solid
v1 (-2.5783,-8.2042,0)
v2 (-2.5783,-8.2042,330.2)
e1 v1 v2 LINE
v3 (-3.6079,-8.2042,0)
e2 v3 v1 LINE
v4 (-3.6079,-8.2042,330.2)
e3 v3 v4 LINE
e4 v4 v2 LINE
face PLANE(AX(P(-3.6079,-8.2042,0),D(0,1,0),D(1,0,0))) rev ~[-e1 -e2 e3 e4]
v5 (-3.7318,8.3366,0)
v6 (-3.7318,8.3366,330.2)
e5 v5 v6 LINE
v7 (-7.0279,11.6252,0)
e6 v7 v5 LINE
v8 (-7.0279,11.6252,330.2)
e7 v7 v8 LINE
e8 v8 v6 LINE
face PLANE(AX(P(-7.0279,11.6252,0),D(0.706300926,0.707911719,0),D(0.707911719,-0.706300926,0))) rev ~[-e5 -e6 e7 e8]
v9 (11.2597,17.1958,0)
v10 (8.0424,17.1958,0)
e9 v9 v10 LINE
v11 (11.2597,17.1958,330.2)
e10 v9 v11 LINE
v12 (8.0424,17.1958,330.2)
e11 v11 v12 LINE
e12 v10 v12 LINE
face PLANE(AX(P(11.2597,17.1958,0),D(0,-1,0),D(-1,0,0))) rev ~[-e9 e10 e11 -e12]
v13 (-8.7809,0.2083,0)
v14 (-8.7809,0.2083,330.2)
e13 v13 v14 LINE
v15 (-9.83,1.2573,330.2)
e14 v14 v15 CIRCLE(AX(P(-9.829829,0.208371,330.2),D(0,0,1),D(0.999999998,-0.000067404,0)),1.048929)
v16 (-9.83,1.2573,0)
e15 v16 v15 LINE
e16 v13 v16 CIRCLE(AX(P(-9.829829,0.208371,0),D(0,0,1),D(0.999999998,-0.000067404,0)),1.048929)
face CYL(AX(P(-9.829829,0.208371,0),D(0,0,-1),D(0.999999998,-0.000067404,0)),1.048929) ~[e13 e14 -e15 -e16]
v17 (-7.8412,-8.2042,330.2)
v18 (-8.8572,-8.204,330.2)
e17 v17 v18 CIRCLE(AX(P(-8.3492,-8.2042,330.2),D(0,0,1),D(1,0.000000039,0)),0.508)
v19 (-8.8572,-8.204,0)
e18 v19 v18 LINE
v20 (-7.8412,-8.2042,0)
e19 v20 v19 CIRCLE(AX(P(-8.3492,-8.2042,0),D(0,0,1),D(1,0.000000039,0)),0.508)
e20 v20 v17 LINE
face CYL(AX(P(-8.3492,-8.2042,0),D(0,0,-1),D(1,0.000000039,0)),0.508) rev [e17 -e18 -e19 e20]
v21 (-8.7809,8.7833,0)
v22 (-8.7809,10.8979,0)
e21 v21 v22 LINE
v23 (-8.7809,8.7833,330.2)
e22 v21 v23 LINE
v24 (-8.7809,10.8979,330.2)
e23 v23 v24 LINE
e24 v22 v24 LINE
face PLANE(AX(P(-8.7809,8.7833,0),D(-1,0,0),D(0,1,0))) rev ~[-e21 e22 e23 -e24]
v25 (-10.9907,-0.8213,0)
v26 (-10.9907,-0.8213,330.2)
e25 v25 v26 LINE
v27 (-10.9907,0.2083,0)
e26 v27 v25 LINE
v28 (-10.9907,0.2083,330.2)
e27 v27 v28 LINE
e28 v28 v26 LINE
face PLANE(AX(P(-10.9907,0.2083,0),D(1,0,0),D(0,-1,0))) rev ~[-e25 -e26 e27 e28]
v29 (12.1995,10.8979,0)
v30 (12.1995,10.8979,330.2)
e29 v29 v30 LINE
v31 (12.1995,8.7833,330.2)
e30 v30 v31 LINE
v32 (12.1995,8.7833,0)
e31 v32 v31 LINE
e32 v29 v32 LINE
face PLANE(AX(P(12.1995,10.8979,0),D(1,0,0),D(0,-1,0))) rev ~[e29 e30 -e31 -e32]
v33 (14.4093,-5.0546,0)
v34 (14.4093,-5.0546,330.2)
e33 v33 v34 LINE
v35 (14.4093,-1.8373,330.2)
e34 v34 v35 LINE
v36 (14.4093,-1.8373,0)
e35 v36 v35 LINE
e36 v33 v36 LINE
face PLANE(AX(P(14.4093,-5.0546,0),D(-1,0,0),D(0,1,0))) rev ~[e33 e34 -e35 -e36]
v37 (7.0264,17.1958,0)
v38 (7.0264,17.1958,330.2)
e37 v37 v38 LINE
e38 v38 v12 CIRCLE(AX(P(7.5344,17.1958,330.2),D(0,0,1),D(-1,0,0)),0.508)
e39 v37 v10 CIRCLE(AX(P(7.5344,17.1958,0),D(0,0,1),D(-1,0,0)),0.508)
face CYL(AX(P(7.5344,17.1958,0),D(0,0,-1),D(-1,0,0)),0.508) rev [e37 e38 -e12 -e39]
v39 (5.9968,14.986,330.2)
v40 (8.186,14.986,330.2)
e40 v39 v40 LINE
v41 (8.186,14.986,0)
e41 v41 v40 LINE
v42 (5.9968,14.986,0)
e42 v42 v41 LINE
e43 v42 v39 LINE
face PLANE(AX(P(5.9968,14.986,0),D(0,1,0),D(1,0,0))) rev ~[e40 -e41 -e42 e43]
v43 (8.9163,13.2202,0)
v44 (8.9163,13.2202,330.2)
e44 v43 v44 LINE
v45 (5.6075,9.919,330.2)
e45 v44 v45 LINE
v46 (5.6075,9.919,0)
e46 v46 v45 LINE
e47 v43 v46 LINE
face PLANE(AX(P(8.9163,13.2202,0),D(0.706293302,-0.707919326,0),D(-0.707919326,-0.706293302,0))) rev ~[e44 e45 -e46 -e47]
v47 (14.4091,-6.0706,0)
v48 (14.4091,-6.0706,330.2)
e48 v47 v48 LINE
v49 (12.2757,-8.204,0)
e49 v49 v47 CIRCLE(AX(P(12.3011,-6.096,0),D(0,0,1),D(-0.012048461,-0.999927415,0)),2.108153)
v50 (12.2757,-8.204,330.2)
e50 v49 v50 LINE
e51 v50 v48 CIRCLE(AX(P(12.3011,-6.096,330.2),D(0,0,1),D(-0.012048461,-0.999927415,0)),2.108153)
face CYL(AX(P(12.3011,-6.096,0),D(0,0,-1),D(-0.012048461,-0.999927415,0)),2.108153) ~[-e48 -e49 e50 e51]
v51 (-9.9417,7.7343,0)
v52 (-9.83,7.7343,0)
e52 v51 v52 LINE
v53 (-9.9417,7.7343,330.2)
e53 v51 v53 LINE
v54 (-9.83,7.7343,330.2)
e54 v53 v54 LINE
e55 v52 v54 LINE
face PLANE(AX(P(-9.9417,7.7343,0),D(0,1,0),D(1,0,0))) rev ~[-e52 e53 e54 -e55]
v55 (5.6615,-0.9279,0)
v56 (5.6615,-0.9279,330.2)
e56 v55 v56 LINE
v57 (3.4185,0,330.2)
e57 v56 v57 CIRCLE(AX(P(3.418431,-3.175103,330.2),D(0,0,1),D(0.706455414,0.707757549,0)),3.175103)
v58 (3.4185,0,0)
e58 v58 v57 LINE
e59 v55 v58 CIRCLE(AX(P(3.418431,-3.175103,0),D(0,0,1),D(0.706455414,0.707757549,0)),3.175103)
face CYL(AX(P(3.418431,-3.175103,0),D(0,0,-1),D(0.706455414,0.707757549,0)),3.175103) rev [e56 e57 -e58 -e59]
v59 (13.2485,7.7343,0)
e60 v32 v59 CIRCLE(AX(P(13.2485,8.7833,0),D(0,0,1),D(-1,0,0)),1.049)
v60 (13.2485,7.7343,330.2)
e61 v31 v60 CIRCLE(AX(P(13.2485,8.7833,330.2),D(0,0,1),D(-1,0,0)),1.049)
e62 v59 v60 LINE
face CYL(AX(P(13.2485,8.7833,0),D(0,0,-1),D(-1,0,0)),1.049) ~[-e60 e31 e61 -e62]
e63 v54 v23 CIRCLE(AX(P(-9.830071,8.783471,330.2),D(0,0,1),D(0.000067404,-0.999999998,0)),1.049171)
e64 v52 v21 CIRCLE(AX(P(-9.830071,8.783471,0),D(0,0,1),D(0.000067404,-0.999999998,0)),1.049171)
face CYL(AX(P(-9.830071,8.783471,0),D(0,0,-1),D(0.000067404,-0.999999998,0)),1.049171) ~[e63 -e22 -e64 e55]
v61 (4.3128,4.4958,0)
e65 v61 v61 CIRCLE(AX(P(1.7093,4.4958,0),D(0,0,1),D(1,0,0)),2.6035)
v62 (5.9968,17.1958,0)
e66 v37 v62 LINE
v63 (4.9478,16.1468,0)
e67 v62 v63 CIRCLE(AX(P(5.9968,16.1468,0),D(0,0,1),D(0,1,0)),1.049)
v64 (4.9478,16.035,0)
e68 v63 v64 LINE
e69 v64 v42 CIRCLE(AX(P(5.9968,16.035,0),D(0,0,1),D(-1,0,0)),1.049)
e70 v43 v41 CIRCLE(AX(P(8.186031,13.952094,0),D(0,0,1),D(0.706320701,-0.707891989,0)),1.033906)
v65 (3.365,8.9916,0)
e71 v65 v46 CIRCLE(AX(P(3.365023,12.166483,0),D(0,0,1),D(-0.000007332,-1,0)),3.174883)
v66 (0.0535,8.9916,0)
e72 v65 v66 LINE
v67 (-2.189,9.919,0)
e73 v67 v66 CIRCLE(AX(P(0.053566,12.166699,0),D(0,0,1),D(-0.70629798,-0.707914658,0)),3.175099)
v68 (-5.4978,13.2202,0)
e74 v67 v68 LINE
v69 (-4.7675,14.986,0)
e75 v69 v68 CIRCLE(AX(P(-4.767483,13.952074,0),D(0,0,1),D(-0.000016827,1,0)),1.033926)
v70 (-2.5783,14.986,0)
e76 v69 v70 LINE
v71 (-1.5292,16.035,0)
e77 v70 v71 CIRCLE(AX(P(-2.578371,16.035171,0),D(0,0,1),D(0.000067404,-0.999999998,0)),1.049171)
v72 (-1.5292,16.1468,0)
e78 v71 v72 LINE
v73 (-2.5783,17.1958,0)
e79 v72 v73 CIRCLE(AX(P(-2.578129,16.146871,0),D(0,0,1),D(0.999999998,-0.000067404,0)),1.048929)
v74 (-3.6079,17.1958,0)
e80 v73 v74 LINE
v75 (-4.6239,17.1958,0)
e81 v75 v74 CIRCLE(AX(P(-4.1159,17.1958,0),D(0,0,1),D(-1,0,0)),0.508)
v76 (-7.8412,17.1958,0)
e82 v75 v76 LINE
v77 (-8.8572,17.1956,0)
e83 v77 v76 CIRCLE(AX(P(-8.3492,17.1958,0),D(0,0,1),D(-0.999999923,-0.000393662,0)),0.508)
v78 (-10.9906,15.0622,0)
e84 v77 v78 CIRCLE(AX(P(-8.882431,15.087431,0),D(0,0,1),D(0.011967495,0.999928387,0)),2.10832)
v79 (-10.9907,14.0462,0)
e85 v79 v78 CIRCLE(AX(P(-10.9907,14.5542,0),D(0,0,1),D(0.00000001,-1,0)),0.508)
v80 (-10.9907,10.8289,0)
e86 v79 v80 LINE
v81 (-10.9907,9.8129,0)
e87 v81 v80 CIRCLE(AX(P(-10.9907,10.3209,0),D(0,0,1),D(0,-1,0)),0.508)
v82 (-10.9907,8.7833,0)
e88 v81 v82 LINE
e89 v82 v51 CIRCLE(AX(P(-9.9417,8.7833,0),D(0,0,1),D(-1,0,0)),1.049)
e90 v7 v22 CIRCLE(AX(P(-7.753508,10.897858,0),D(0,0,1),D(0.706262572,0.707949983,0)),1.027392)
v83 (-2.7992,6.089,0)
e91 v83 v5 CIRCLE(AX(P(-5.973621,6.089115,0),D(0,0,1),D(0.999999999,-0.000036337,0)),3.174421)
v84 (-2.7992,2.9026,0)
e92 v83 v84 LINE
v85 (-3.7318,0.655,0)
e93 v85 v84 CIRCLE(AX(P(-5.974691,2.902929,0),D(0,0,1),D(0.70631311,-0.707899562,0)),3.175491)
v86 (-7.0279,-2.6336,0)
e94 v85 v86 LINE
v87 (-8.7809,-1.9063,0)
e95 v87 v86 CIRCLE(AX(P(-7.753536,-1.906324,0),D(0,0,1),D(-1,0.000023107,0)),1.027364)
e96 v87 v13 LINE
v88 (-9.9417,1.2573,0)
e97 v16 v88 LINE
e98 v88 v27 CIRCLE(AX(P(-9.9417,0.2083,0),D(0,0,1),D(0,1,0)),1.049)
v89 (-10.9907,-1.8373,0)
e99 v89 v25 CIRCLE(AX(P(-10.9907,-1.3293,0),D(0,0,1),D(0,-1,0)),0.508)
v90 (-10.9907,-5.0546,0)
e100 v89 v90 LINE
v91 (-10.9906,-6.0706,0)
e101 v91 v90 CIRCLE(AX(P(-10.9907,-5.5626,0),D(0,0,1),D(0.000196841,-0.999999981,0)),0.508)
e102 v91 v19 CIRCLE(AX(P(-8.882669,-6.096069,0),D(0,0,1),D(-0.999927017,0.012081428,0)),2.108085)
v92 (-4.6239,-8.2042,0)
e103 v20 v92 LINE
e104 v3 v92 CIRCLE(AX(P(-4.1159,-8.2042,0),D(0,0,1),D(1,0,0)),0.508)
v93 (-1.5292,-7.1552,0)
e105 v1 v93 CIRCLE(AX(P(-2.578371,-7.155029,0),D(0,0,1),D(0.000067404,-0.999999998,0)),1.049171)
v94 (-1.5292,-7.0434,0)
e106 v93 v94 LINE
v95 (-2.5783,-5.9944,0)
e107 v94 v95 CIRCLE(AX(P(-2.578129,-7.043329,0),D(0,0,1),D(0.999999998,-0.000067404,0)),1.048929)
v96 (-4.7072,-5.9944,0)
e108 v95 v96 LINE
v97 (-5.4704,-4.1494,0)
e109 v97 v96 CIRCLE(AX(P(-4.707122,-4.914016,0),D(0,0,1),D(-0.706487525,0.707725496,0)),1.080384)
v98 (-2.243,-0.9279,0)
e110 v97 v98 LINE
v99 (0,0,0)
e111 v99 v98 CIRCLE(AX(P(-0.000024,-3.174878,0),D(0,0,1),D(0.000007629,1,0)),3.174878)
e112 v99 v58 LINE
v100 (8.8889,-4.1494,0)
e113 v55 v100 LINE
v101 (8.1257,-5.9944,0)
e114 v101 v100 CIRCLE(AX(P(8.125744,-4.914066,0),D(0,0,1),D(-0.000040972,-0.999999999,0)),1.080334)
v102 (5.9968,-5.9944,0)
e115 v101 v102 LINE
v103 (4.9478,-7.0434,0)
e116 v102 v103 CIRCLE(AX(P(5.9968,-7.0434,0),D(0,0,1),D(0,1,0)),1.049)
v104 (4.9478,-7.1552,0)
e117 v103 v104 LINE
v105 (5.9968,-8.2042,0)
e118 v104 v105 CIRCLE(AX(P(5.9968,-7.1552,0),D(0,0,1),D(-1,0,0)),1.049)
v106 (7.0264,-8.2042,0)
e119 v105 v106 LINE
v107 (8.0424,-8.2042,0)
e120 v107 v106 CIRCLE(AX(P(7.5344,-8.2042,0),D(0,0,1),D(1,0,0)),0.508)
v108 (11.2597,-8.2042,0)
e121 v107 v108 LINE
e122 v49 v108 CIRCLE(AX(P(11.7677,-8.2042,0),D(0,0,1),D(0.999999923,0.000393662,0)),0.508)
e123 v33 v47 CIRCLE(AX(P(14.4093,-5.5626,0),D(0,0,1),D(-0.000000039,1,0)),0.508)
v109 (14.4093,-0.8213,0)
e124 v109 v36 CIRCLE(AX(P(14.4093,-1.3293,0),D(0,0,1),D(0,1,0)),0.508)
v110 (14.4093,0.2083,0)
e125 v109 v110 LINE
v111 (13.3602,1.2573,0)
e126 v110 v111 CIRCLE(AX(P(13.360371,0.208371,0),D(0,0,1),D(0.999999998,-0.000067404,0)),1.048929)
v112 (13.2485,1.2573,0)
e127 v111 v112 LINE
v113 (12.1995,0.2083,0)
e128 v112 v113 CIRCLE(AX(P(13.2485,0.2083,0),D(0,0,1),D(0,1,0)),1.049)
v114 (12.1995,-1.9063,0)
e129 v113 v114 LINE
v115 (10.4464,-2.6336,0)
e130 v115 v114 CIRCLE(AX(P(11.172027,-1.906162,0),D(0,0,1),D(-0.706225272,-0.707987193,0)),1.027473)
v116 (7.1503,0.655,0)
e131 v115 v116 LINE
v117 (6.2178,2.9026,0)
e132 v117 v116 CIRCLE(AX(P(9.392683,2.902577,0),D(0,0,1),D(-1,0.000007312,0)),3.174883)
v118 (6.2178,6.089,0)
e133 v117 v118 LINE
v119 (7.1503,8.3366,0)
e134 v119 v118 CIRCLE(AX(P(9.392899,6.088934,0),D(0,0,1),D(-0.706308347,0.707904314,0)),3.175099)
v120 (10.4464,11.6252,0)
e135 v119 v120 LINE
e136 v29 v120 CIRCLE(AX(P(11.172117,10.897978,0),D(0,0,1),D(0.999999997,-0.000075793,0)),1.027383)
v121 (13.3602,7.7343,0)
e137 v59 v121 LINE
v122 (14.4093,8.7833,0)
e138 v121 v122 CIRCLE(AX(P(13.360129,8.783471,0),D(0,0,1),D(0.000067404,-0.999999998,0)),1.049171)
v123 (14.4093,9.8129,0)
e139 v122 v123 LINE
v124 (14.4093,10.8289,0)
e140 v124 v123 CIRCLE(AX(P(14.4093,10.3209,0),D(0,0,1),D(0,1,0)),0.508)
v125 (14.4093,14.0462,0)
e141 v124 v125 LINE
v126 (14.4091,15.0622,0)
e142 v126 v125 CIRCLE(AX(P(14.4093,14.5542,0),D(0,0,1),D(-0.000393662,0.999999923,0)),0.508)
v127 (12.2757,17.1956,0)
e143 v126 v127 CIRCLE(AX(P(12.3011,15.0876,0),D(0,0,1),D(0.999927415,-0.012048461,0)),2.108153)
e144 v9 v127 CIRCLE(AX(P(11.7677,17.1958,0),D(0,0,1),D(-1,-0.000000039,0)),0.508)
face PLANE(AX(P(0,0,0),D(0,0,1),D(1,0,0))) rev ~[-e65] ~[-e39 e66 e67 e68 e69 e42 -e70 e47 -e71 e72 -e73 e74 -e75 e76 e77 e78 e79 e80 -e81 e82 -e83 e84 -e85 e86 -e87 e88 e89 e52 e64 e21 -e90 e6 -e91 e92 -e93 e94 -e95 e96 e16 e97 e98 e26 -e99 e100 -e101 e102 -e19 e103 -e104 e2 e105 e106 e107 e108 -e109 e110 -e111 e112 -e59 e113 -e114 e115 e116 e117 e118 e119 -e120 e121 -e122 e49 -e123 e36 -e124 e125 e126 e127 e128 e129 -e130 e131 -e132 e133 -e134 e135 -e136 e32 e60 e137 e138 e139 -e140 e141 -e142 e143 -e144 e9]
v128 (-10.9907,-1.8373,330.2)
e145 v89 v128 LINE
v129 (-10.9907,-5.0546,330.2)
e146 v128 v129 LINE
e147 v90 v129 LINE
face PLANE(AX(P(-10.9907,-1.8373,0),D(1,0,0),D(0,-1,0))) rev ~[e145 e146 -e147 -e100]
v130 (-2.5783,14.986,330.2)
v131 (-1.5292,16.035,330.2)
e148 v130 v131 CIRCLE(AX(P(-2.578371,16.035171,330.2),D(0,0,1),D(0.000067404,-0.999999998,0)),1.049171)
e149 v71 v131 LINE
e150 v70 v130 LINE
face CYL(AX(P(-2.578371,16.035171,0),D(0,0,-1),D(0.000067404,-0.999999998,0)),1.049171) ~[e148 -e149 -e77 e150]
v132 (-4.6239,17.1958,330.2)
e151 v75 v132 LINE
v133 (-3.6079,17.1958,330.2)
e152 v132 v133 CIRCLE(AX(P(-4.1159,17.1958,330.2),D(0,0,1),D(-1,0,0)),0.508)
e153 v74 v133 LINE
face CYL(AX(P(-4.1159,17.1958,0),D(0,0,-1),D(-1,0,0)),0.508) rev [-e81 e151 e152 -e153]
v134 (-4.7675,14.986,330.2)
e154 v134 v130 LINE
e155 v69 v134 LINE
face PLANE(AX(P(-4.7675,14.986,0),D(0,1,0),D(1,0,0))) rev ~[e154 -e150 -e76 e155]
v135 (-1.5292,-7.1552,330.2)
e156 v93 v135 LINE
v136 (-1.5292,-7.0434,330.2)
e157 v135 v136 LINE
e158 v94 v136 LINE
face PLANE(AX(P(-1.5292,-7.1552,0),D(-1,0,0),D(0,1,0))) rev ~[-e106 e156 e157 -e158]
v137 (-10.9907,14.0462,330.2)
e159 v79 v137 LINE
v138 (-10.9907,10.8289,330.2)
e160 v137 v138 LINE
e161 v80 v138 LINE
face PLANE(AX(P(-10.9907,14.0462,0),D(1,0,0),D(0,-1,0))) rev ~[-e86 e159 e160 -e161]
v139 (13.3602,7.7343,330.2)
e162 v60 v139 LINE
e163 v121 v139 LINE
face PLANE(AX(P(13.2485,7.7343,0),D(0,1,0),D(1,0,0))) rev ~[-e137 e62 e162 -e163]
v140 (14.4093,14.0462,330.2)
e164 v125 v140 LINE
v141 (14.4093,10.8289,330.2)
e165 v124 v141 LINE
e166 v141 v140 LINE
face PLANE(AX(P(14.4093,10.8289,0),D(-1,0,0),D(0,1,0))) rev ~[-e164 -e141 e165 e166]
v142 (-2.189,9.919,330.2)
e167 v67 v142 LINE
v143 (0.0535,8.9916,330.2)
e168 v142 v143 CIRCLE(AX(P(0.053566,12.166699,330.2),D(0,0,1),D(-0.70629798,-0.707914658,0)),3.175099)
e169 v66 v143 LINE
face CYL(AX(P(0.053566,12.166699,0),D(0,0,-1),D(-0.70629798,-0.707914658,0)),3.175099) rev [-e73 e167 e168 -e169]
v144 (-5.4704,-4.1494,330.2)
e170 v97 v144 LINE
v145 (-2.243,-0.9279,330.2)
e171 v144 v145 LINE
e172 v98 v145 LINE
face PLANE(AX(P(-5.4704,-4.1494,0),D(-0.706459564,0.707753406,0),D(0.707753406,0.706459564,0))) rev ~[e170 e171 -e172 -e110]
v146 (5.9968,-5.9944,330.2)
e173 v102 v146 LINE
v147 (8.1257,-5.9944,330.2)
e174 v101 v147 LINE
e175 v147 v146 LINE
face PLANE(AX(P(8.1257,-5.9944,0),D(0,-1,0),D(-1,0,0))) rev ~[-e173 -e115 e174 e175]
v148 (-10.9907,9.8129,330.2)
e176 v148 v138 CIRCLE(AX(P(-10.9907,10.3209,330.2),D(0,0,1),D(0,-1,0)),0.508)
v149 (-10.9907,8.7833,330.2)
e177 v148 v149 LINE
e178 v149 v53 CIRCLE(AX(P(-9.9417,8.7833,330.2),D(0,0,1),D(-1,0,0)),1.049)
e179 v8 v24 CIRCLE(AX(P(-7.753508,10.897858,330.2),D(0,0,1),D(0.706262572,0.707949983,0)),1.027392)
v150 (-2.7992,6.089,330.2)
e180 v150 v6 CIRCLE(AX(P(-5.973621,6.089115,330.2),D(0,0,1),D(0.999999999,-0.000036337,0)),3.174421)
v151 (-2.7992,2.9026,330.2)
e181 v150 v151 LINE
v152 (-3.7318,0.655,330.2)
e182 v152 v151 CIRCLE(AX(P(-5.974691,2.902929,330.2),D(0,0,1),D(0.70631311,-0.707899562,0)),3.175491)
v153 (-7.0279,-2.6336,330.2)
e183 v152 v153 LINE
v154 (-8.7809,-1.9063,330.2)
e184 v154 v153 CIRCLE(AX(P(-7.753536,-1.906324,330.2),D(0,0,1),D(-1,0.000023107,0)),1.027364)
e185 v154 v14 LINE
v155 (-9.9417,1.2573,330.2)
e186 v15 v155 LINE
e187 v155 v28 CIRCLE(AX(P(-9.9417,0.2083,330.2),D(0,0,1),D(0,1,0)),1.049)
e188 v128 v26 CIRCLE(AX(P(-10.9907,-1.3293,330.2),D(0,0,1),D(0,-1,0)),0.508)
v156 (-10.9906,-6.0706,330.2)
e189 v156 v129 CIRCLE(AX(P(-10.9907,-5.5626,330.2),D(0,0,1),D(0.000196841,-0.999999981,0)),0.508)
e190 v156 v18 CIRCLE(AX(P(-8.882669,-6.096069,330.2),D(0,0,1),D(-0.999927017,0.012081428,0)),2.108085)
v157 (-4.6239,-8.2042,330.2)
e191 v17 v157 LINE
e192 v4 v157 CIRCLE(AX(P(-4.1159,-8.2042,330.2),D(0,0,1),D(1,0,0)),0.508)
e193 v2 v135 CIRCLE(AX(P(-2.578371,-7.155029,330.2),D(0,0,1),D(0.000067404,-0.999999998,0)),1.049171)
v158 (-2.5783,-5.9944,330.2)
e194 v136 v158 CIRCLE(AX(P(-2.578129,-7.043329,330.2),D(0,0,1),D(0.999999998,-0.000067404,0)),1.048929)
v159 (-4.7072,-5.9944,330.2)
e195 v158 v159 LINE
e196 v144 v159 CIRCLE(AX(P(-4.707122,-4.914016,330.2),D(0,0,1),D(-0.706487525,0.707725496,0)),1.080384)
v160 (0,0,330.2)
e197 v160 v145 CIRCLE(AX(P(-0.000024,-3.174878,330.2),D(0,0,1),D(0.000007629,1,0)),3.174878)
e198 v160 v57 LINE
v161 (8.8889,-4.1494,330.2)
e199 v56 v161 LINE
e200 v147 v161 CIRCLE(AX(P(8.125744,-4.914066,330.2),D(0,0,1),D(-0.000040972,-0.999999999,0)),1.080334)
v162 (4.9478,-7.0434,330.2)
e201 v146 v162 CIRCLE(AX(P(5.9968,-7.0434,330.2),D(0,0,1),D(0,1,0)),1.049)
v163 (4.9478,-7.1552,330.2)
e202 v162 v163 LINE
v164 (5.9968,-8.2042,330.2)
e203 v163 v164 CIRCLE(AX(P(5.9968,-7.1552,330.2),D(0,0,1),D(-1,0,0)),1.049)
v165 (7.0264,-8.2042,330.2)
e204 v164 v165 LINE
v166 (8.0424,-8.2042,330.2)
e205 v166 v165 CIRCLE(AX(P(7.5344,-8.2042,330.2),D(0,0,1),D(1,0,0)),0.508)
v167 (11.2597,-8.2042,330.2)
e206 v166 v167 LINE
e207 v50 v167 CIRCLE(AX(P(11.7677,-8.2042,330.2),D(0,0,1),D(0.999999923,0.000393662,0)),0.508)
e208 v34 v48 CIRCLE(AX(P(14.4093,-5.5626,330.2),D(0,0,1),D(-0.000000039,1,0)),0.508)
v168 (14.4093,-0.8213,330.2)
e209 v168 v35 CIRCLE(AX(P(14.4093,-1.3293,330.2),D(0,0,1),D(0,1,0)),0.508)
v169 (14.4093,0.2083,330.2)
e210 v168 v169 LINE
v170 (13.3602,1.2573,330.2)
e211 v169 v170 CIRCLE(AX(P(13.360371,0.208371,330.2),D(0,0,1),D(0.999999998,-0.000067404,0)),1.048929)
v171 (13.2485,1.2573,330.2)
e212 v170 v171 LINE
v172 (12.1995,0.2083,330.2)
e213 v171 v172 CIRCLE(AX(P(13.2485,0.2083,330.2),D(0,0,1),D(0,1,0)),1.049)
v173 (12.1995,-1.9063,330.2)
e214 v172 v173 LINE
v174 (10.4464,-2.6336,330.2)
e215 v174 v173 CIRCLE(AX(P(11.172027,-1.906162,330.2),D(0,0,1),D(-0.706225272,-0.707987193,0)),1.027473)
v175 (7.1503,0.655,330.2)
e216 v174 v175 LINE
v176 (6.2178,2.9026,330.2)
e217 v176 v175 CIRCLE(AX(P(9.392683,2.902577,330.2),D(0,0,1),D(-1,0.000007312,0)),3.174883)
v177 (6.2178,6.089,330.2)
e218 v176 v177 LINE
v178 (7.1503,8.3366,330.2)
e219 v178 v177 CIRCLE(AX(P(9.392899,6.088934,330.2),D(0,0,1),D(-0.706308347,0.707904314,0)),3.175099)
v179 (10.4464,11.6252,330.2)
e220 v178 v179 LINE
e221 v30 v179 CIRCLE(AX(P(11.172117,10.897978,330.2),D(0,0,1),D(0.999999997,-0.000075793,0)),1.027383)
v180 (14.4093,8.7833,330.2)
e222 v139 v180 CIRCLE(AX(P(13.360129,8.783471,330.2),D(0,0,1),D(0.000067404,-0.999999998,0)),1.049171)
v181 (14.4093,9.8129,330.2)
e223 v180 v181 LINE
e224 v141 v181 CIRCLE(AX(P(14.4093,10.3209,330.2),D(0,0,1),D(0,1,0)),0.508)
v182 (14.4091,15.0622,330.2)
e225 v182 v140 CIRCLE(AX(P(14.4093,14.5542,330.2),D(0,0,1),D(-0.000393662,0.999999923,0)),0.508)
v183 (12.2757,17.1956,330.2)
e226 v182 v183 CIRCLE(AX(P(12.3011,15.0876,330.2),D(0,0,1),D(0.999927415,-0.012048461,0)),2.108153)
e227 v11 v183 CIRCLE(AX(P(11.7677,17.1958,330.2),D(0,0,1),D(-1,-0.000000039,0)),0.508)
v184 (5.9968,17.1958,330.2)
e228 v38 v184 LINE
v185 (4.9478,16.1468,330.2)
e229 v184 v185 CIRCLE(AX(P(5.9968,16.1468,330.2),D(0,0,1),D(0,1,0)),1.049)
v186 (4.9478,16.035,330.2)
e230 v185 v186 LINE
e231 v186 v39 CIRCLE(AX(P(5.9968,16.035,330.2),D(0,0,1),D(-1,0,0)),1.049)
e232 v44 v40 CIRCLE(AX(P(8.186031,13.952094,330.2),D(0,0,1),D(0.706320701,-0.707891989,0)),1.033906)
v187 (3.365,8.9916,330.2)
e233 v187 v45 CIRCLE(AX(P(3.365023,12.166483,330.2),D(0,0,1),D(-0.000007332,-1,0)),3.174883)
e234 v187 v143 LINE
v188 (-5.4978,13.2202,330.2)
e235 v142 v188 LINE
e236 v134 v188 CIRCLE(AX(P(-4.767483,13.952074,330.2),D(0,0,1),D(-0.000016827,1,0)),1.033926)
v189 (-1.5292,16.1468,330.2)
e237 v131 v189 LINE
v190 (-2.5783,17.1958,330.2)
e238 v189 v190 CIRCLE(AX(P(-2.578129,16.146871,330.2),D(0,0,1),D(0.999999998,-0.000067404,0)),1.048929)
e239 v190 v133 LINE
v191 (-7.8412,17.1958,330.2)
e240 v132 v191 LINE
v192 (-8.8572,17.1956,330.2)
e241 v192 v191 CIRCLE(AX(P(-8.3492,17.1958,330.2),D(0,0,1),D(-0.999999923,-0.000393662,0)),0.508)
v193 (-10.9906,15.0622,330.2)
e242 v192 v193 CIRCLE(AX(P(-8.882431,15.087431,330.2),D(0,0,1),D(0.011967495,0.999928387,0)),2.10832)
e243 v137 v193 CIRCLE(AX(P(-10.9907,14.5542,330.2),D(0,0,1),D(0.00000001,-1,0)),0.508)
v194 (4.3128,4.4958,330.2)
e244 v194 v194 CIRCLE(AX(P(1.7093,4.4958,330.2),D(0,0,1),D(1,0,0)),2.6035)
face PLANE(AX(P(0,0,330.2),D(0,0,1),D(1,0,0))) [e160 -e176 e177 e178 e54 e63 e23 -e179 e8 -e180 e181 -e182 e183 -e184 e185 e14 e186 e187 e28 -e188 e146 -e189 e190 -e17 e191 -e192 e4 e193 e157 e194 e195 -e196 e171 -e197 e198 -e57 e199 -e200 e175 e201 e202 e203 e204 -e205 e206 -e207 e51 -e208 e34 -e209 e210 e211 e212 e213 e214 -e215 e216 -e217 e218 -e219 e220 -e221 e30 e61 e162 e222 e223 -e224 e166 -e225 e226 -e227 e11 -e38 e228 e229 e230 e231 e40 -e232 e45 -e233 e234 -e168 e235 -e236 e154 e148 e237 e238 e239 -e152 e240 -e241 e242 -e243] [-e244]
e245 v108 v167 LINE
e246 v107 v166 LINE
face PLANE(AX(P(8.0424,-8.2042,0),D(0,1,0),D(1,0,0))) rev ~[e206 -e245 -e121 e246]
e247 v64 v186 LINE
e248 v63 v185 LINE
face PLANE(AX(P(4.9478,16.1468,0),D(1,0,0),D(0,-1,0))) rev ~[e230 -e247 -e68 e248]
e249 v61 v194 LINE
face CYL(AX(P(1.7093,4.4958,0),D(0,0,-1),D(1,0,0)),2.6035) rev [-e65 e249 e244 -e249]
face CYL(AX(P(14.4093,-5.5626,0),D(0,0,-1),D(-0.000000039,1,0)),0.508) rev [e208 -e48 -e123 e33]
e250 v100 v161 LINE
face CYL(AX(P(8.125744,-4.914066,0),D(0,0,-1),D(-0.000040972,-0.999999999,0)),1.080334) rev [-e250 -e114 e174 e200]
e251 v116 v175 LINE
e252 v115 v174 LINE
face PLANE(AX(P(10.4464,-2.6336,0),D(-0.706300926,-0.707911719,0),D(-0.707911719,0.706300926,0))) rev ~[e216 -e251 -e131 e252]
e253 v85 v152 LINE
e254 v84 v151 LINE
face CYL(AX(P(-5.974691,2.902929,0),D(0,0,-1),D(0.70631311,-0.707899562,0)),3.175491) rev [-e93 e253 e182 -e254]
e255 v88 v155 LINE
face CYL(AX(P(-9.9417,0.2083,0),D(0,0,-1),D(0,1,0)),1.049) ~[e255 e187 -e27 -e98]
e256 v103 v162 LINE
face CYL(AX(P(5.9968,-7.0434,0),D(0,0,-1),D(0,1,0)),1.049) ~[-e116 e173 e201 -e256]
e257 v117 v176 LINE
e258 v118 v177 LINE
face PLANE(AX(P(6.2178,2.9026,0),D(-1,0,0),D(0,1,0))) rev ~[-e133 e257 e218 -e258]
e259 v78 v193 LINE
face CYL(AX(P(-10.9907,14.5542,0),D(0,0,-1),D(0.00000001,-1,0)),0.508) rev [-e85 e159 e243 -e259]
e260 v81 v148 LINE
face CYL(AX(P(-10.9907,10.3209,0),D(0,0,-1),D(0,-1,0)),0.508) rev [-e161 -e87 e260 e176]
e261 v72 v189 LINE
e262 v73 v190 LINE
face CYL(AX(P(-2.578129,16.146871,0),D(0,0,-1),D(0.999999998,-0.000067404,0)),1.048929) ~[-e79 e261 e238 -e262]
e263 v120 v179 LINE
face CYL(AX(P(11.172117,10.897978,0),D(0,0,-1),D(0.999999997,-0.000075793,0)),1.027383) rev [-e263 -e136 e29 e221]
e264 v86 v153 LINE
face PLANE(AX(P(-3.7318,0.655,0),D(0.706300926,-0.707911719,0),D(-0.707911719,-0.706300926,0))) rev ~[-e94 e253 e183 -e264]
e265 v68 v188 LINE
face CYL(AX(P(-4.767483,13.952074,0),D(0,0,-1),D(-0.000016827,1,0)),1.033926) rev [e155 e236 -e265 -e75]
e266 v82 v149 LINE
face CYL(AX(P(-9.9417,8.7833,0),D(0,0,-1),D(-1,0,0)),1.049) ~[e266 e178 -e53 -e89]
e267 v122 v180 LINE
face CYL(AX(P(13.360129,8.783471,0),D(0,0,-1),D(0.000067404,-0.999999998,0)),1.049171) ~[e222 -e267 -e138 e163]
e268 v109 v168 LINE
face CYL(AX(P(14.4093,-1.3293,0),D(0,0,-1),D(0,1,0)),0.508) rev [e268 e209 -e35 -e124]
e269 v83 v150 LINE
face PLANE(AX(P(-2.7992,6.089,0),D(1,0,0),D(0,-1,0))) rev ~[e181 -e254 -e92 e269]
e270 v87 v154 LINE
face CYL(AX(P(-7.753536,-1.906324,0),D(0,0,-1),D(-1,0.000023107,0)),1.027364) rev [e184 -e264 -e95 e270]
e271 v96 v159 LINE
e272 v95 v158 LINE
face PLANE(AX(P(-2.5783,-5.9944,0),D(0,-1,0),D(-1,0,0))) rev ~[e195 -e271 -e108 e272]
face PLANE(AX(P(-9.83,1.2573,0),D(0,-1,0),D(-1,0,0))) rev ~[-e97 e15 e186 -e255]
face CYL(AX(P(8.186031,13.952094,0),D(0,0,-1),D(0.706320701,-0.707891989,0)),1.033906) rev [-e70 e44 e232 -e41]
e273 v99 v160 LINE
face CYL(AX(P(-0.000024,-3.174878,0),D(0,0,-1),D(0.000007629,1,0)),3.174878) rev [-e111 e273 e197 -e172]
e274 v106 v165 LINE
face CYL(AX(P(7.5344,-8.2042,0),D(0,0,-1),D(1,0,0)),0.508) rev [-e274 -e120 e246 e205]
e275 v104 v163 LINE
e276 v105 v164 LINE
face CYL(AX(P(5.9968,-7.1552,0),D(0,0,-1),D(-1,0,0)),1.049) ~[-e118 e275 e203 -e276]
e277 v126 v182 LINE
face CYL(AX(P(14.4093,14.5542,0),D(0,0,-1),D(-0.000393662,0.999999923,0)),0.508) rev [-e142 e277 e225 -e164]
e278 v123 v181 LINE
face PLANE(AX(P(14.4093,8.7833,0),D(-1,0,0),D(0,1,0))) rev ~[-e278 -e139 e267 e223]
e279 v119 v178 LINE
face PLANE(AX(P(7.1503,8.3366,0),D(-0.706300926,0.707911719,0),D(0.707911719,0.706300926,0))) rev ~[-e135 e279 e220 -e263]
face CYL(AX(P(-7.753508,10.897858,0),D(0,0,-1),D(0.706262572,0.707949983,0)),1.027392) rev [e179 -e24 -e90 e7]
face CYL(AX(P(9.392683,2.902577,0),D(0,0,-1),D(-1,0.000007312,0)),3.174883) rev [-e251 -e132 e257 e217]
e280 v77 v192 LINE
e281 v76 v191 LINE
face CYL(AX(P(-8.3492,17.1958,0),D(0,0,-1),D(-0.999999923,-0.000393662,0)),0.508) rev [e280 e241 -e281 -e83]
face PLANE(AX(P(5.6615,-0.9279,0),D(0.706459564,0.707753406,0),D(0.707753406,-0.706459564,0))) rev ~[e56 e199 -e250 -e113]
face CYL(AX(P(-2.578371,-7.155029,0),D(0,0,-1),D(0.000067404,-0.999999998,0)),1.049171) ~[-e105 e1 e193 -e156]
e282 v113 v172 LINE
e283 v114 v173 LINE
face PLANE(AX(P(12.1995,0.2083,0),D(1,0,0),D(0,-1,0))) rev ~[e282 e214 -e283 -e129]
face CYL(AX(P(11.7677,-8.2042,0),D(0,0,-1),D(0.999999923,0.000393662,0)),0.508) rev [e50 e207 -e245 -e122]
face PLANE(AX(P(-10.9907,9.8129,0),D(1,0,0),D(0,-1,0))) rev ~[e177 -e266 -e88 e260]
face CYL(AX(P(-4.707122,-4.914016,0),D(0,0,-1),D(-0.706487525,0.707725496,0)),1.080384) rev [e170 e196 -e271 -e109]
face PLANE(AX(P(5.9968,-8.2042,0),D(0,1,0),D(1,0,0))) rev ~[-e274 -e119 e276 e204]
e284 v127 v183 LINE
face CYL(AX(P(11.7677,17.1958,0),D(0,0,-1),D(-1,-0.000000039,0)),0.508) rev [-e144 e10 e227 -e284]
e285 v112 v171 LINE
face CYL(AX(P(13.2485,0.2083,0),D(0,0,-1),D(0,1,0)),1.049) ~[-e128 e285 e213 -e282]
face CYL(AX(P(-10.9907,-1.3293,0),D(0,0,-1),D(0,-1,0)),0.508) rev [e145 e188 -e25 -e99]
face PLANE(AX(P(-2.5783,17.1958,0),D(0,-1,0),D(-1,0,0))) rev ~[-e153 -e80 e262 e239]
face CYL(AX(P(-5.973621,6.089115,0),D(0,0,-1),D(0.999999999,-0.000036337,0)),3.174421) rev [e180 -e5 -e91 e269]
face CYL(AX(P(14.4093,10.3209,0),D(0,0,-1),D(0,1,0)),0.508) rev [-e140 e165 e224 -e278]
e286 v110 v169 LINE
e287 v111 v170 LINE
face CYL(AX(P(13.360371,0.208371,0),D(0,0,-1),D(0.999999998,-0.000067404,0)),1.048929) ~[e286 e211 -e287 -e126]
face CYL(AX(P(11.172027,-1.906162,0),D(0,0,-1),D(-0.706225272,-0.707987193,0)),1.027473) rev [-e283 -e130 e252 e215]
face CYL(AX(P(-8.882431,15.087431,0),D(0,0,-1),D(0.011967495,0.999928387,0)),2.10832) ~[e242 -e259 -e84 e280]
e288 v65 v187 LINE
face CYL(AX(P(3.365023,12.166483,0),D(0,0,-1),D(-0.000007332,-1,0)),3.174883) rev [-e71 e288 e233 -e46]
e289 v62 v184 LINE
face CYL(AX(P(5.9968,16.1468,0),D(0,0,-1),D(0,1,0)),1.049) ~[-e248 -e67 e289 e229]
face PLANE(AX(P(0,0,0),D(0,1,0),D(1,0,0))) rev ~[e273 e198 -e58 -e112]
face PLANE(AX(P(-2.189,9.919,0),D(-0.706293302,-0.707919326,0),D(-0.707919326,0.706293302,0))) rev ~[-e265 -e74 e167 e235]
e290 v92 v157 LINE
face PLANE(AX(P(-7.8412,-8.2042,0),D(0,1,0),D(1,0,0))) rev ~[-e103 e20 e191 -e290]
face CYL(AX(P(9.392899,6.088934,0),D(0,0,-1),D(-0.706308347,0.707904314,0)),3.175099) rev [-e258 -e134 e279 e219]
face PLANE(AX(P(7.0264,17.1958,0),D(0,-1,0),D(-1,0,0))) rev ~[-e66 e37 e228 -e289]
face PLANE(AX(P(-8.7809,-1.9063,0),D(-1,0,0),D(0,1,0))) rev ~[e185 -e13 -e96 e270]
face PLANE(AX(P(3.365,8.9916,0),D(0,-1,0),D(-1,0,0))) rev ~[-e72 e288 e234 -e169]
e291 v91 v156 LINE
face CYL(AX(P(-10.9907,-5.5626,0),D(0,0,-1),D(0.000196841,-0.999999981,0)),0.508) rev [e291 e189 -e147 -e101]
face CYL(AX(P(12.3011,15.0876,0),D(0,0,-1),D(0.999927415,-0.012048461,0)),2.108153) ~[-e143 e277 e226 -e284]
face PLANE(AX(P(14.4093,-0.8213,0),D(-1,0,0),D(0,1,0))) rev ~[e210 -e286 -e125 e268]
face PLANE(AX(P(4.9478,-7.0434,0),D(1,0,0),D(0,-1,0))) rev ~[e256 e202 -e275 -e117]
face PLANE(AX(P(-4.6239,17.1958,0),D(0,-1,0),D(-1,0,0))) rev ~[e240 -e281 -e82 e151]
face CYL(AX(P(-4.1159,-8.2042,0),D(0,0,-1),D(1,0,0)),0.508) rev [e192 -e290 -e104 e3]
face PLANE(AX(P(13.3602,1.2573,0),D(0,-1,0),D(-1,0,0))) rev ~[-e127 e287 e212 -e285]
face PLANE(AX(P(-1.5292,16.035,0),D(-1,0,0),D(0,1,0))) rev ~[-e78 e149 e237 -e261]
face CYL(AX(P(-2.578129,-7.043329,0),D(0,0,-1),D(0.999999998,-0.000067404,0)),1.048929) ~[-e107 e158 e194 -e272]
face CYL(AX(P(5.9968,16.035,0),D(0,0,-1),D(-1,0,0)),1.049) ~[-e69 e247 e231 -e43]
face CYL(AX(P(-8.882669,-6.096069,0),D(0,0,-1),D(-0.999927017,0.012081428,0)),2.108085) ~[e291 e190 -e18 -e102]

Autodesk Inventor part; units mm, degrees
ref_plane "YZ Plane" through (0, 0, 0) normal (1, 0, 0) x (0, 1, 0)
ref_plane "XZ Plane" through (0, 0, 0) normal (0, 1, 0) x (-1, 0, 0)
ref_plane "XY Plane" through (0, 0, 0) normal (0, 0, 1) x (1, 0, 0)
sketch "Sketch1" plane through (0, 0, 0) normal (0, 0, 1) x (1, 0, 0)
  arc A0 (-5.4704, -4.1494) -> (-4.7072, -5.9944) centre (-4.7072, -4.914) ccw
  line L0 (-5.4704, -4.1494) -> (-2.243, -0.9279)
  arc A1 (0, 0) -> (-2.243, -0.9279) centre (0, -3.175) ccw
  line L1 (0, 0) -> (3.4185, 0)
  arc A2 (5.6615, -0.9279) -> (3.4185, 0) centre (3.4185, -3.175) ccw
  line L2 (5.6615, -0.9279) -> (8.8889, -4.1494)
  arc A3 (8.1257, -5.9944) -> (8.8889, -4.1494) centre (8.1257, -4.914) ccw
  line L3 (8.1257, -5.9944) -> (5.9968, -5.9944)
  arc A4 (5.9968, -5.9944) -> (4.9478, -7.0434) centre (5.9968, -7.0434) ccw
  line L4 (4.9478, -7.0434) -> (4.9478, -7.1552)
  arc A5 (4.9478, -7.1552) -> (5.9968, -8.2042) centre (5.9968, -7.1552) ccw
  line L5 (5.9968, -8.2042) -> (7.0264, -8.2042)
  arc A6 (8.0424, -8.2042) -> (7.0264, -8.2042) centre (7.5344, -8.2042) ccw
  line L6 (8.0424, -8.2042) -> (11.2597, -8.2042)
  arc A7 (12.2757, -8.204) -> (11.2597, -8.2042) centre (11.7677, -8.2042) ccw
  arc A8 (12.2757, -8.204) -> (14.4091, -6.0706) centre (12.3011, -6.096) ccw
  arc A9 (14.4093, -5.0546) -> (14.4091, -6.0706) centre (14.4093, -5.5626) ccw
  line L7 (14.4093, -5.0546) -> (14.4093, -1.8373)
  arc A10 (14.4093, -0.8213) -> (14.4093, -1.8373) centre (14.4093, -1.3293) ccw
  line L8 (14.4093, -0.8213) -> (14.4093, 0.2083)
  arc A11 (14.4093, 0.2083) -> (13.3602, 1.2573) centre (13.3602, 0.2083) ccw
  line L9 (13.3602, 1.2573) -> (13.2485, 1.2573)
  arc A12 (13.2485, 1.2573) -> (12.1995, 0.2083) centre (13.2485, 0.2083) ccw
  line L10 (12.1995, 0.2083) -> (12.1995, -1.9063)
  arc A13 (10.4464, -2.6336) -> (12.1995, -1.9063) centre (11.172, -1.9063) ccw
  line L11 (10.4464, -2.6336) -> (7.1503, 0.655)
  arc A14 (6.2178, 2.9026) -> (7.1503, 0.655) centre (9.3928, 2.9026) ccw
  line L12 (6.2178, 2.9026) -> (6.2178, 6.089)
  arc A15 (7.1503, 8.3366) -> (6.2178, 6.089) centre (9.3928, 6.089) ccw
  line L13 (7.1503, 8.3366) -> (10.4464, 11.6252)
  arc A16 (12.1995, 10.8979) -> (10.4464, 11.6252) centre (11.172, 10.8979) ccw
  line L14 (12.1995, 10.8979) -> (12.1995, 8.7833)
  arc A17 (12.1995, 8.7833) -> (13.2485, 7.7343) centre (13.2485, 8.7833) ccw
  line L15 (13.2485, 7.7343) -> (13.3602, 7.7343)
  arc A18 (13.3602, 7.7343) -> (14.4093, 8.7833) centre (13.3602, 8.7833) ccw
  line L16 (14.4093, 8.7833) -> (14.4093, 9.8129)
  arc A19 (14.4093, 10.8289) -> (14.4093, 9.8129) centre (14.4093, 10.3209) ccw
  line L17 (14.4093, 10.8289) -> (14.4093, 14.0462)
  arc A20 (14.4091, 15.0622) -> (14.4093, 14.0462) centre (14.4093, 14.5542) ccw
  arc A21 (14.4091, 15.0622) -> (12.2757, 17.1956) centre (12.3011, 15.0876) ccw
  arc A22 (11.2597, 17.1958) -> (12.2757, 17.1956) centre (11.7677, 17.1958) ccw
  line L18 (11.2597, 17.1958) -> (8.0424, 17.1958)
  arc A23 (7.0264, 17.1958) -> (8.0424, 17.1958) centre (7.5344, 17.1958) ccw
  line L19 (7.0264, 17.1958) -> (5.9968, 17.1958)
  arc A24 (5.9968, 17.1958) -> (4.9478, 16.1468) centre (5.9968, 16.1468) ccw
  line L20 (4.9478, 16.1468) -> (4.9478, 16.035)
  arc A25 (4.9478, 16.035) -> (5.9968, 14.986) centre (5.9968, 16.035) ccw
  line L21 (5.9968, 14.986) -> (8.186, 14.986)
  arc A26 (8.9163, 13.2202) -> (8.186, 14.986) centre (8.186, 13.9521) ccw
  line L22 (8.9163, 13.2202) -> (5.6075, 9.919)
  arc A27 (3.365, 8.9916) -> (5.6075, 9.919) centre (3.365, 12.1666) ccw
  line L23 (3.365, 8.9916) -> (0.0535, 8.9916)
  arc A28 (-2.189, 9.919) -> (0.0535, 8.9916) centre (0.0535, 12.1666) ccw
  line L24 (-2.189, 9.919) -> (-5.4978, 13.2202)
  arc A29 (-4.7675, 14.986) -> (-5.4978, 13.2202) centre (-4.7675, 13.9521) ccw
  line L25 (-4.7675, 14.986) -> (-2.5783, 14.986)
  arc A30 (-2.5783, 14.986) -> (-1.5292, 16.035) centre (-2.5783, 16.035) ccw
  line L26 (-1.5292, 16.035) -> (-1.5292, 16.1468)
  arc A31 (-1.5292, 16.1468) -> (-2.5783, 17.1958) centre (-2.5783, 16.1468) ccw
  line L27 (-2.5783, 17.1958) -> (-3.6079, 17.1958)
  arc A32 (-4.6239, 17.1958) -> (-3.6079, 17.1958) centre (-4.1159, 17.1958) ccw
  line L28 (-4.6239, 17.1958) -> (-7.8412, 17.1958)
  arc A33 (-8.8572, 17.1956) -> (-7.8412, 17.1958) centre (-8.3492, 17.1958) ccw
  arc A34 (-8.8572, 17.1956) -> (-10.9906, 15.0622) centre (-8.8825, 15.0876) ccw
  arc A35 (-10.9907, 14.0462) -> (-10.9906, 15.0622) centre (-10.9907, 14.5542) ccw
  line L29 (-10.9907, 14.0462) -> (-10.9907, 10.8289)
  arc A36 (-10.9907, 9.8129) -> (-10.9907, 10.8289) centre (-10.9907, 10.3209) ccw
  line L30 (-10.9907, 9.8129) -> (-10.9907, 8.7833)
  arc A37 (-10.9907, 8.7833) -> (-9.9417, 7.7343) centre (-9.9417, 8.7833) ccw
  line L31 (-9.9417, 7.7343) -> (-9.83, 7.7343)
  arc A38 (-9.83, 7.7343) -> (-8.7809, 8.7833) centre (-9.83, 8.7833) ccw
  line L32 (-8.7809, 8.7833) -> (-8.7809, 10.8979)
  arc A39 (-7.0279, 11.6252) -> (-8.7809, 10.8979) centre (-7.7535, 10.8979) ccw
  line L33 (-7.0279, 11.6252) -> (-3.7318, 8.3366)
  arc A40 (-2.7992, 6.089) -> (-3.7318, 8.3366) centre (-5.9742, 6.089) ccw
  line L34 (-2.7992, 6.089) -> (-2.7992, 2.9026)
  arc A41 (-3.7318, 0.655) -> (-2.7992, 2.9026) centre (-5.9742, 2.9026) ccw
  line L35 (-3.7318, 0.655) -> (-7.0279, -2.6336)
  arc A42 (-8.7809, -1.9063) -> (-7.0279, -2.6336) centre (-7.7535, -1.9063) ccw
  line L36 (-8.7809, -1.9063) -> (-8.7809, 0.2083)
  arc A43 (-8.7809, 0.2083) -> (-9.83, 1.2573) centre (-9.83, 0.2083) ccw
  line L37 (-9.83, 1.2573) -> (-9.9417, 1.2573)
  arc A44 (-9.9417, 1.2573) -> (-10.9907, 0.2083) centre (-9.9417, 0.2083) ccw
  line L38 (-10.9907, 0.2083) -> (-10.9907, -0.8213)
  arc A45 (-10.9907, -1.8373) -> (-10.9907, -0.8213) centre (-10.9907, -1.3293) ccw
  line L39 (-10.9907, -1.8373) -> (-10.9907, -5.0546)
  arc A46 (-10.9906, -6.0706) -> (-10.9907, -5.0546) centre (-10.9907, -5.5626) ccw
  arc A47 (-10.9906, -6.0706) -> (-8.8572, -8.204) centre (-8.8825, -6.096) ccw
  arc A48 (-7.8412, -8.2042) -> (-8.8572, -8.204) centre (-8.3492, -8.2042) ccw
  line L40 (-7.8412, -8.2042) -> (-4.6239, -8.2042)
  arc A49 (-3.6079, -8.2042) -> (-4.6239, -8.2042) centre (-4.1159, -8.2042) ccw
  line L41 (-3.6079, -8.2042) -> (-2.5783, -8.2042)
  arc A50 (-2.5783, -8.2042) -> (-1.5292, -7.1552) centre (-2.5783, -7.1552) ccw
  line L42 (-1.5292, -7.1552) -> (-1.5292, -7.0434)
  arc A51 (-1.5292, -7.0434) -> (-2.5783, -5.9944) centre (-2.5783, -7.0434) ccw
  line L43 (-2.5783, -5.9944) -> (-4.7072, -5.9944)
  circle A52 centre (1.7093, 4.4958) radius 2.6035
extrude "Extrusion1" add sketch "Sketch1" along normal blind 330.2
properties part number "13 in 1x1 T slot" material "Steel, Alloy"
